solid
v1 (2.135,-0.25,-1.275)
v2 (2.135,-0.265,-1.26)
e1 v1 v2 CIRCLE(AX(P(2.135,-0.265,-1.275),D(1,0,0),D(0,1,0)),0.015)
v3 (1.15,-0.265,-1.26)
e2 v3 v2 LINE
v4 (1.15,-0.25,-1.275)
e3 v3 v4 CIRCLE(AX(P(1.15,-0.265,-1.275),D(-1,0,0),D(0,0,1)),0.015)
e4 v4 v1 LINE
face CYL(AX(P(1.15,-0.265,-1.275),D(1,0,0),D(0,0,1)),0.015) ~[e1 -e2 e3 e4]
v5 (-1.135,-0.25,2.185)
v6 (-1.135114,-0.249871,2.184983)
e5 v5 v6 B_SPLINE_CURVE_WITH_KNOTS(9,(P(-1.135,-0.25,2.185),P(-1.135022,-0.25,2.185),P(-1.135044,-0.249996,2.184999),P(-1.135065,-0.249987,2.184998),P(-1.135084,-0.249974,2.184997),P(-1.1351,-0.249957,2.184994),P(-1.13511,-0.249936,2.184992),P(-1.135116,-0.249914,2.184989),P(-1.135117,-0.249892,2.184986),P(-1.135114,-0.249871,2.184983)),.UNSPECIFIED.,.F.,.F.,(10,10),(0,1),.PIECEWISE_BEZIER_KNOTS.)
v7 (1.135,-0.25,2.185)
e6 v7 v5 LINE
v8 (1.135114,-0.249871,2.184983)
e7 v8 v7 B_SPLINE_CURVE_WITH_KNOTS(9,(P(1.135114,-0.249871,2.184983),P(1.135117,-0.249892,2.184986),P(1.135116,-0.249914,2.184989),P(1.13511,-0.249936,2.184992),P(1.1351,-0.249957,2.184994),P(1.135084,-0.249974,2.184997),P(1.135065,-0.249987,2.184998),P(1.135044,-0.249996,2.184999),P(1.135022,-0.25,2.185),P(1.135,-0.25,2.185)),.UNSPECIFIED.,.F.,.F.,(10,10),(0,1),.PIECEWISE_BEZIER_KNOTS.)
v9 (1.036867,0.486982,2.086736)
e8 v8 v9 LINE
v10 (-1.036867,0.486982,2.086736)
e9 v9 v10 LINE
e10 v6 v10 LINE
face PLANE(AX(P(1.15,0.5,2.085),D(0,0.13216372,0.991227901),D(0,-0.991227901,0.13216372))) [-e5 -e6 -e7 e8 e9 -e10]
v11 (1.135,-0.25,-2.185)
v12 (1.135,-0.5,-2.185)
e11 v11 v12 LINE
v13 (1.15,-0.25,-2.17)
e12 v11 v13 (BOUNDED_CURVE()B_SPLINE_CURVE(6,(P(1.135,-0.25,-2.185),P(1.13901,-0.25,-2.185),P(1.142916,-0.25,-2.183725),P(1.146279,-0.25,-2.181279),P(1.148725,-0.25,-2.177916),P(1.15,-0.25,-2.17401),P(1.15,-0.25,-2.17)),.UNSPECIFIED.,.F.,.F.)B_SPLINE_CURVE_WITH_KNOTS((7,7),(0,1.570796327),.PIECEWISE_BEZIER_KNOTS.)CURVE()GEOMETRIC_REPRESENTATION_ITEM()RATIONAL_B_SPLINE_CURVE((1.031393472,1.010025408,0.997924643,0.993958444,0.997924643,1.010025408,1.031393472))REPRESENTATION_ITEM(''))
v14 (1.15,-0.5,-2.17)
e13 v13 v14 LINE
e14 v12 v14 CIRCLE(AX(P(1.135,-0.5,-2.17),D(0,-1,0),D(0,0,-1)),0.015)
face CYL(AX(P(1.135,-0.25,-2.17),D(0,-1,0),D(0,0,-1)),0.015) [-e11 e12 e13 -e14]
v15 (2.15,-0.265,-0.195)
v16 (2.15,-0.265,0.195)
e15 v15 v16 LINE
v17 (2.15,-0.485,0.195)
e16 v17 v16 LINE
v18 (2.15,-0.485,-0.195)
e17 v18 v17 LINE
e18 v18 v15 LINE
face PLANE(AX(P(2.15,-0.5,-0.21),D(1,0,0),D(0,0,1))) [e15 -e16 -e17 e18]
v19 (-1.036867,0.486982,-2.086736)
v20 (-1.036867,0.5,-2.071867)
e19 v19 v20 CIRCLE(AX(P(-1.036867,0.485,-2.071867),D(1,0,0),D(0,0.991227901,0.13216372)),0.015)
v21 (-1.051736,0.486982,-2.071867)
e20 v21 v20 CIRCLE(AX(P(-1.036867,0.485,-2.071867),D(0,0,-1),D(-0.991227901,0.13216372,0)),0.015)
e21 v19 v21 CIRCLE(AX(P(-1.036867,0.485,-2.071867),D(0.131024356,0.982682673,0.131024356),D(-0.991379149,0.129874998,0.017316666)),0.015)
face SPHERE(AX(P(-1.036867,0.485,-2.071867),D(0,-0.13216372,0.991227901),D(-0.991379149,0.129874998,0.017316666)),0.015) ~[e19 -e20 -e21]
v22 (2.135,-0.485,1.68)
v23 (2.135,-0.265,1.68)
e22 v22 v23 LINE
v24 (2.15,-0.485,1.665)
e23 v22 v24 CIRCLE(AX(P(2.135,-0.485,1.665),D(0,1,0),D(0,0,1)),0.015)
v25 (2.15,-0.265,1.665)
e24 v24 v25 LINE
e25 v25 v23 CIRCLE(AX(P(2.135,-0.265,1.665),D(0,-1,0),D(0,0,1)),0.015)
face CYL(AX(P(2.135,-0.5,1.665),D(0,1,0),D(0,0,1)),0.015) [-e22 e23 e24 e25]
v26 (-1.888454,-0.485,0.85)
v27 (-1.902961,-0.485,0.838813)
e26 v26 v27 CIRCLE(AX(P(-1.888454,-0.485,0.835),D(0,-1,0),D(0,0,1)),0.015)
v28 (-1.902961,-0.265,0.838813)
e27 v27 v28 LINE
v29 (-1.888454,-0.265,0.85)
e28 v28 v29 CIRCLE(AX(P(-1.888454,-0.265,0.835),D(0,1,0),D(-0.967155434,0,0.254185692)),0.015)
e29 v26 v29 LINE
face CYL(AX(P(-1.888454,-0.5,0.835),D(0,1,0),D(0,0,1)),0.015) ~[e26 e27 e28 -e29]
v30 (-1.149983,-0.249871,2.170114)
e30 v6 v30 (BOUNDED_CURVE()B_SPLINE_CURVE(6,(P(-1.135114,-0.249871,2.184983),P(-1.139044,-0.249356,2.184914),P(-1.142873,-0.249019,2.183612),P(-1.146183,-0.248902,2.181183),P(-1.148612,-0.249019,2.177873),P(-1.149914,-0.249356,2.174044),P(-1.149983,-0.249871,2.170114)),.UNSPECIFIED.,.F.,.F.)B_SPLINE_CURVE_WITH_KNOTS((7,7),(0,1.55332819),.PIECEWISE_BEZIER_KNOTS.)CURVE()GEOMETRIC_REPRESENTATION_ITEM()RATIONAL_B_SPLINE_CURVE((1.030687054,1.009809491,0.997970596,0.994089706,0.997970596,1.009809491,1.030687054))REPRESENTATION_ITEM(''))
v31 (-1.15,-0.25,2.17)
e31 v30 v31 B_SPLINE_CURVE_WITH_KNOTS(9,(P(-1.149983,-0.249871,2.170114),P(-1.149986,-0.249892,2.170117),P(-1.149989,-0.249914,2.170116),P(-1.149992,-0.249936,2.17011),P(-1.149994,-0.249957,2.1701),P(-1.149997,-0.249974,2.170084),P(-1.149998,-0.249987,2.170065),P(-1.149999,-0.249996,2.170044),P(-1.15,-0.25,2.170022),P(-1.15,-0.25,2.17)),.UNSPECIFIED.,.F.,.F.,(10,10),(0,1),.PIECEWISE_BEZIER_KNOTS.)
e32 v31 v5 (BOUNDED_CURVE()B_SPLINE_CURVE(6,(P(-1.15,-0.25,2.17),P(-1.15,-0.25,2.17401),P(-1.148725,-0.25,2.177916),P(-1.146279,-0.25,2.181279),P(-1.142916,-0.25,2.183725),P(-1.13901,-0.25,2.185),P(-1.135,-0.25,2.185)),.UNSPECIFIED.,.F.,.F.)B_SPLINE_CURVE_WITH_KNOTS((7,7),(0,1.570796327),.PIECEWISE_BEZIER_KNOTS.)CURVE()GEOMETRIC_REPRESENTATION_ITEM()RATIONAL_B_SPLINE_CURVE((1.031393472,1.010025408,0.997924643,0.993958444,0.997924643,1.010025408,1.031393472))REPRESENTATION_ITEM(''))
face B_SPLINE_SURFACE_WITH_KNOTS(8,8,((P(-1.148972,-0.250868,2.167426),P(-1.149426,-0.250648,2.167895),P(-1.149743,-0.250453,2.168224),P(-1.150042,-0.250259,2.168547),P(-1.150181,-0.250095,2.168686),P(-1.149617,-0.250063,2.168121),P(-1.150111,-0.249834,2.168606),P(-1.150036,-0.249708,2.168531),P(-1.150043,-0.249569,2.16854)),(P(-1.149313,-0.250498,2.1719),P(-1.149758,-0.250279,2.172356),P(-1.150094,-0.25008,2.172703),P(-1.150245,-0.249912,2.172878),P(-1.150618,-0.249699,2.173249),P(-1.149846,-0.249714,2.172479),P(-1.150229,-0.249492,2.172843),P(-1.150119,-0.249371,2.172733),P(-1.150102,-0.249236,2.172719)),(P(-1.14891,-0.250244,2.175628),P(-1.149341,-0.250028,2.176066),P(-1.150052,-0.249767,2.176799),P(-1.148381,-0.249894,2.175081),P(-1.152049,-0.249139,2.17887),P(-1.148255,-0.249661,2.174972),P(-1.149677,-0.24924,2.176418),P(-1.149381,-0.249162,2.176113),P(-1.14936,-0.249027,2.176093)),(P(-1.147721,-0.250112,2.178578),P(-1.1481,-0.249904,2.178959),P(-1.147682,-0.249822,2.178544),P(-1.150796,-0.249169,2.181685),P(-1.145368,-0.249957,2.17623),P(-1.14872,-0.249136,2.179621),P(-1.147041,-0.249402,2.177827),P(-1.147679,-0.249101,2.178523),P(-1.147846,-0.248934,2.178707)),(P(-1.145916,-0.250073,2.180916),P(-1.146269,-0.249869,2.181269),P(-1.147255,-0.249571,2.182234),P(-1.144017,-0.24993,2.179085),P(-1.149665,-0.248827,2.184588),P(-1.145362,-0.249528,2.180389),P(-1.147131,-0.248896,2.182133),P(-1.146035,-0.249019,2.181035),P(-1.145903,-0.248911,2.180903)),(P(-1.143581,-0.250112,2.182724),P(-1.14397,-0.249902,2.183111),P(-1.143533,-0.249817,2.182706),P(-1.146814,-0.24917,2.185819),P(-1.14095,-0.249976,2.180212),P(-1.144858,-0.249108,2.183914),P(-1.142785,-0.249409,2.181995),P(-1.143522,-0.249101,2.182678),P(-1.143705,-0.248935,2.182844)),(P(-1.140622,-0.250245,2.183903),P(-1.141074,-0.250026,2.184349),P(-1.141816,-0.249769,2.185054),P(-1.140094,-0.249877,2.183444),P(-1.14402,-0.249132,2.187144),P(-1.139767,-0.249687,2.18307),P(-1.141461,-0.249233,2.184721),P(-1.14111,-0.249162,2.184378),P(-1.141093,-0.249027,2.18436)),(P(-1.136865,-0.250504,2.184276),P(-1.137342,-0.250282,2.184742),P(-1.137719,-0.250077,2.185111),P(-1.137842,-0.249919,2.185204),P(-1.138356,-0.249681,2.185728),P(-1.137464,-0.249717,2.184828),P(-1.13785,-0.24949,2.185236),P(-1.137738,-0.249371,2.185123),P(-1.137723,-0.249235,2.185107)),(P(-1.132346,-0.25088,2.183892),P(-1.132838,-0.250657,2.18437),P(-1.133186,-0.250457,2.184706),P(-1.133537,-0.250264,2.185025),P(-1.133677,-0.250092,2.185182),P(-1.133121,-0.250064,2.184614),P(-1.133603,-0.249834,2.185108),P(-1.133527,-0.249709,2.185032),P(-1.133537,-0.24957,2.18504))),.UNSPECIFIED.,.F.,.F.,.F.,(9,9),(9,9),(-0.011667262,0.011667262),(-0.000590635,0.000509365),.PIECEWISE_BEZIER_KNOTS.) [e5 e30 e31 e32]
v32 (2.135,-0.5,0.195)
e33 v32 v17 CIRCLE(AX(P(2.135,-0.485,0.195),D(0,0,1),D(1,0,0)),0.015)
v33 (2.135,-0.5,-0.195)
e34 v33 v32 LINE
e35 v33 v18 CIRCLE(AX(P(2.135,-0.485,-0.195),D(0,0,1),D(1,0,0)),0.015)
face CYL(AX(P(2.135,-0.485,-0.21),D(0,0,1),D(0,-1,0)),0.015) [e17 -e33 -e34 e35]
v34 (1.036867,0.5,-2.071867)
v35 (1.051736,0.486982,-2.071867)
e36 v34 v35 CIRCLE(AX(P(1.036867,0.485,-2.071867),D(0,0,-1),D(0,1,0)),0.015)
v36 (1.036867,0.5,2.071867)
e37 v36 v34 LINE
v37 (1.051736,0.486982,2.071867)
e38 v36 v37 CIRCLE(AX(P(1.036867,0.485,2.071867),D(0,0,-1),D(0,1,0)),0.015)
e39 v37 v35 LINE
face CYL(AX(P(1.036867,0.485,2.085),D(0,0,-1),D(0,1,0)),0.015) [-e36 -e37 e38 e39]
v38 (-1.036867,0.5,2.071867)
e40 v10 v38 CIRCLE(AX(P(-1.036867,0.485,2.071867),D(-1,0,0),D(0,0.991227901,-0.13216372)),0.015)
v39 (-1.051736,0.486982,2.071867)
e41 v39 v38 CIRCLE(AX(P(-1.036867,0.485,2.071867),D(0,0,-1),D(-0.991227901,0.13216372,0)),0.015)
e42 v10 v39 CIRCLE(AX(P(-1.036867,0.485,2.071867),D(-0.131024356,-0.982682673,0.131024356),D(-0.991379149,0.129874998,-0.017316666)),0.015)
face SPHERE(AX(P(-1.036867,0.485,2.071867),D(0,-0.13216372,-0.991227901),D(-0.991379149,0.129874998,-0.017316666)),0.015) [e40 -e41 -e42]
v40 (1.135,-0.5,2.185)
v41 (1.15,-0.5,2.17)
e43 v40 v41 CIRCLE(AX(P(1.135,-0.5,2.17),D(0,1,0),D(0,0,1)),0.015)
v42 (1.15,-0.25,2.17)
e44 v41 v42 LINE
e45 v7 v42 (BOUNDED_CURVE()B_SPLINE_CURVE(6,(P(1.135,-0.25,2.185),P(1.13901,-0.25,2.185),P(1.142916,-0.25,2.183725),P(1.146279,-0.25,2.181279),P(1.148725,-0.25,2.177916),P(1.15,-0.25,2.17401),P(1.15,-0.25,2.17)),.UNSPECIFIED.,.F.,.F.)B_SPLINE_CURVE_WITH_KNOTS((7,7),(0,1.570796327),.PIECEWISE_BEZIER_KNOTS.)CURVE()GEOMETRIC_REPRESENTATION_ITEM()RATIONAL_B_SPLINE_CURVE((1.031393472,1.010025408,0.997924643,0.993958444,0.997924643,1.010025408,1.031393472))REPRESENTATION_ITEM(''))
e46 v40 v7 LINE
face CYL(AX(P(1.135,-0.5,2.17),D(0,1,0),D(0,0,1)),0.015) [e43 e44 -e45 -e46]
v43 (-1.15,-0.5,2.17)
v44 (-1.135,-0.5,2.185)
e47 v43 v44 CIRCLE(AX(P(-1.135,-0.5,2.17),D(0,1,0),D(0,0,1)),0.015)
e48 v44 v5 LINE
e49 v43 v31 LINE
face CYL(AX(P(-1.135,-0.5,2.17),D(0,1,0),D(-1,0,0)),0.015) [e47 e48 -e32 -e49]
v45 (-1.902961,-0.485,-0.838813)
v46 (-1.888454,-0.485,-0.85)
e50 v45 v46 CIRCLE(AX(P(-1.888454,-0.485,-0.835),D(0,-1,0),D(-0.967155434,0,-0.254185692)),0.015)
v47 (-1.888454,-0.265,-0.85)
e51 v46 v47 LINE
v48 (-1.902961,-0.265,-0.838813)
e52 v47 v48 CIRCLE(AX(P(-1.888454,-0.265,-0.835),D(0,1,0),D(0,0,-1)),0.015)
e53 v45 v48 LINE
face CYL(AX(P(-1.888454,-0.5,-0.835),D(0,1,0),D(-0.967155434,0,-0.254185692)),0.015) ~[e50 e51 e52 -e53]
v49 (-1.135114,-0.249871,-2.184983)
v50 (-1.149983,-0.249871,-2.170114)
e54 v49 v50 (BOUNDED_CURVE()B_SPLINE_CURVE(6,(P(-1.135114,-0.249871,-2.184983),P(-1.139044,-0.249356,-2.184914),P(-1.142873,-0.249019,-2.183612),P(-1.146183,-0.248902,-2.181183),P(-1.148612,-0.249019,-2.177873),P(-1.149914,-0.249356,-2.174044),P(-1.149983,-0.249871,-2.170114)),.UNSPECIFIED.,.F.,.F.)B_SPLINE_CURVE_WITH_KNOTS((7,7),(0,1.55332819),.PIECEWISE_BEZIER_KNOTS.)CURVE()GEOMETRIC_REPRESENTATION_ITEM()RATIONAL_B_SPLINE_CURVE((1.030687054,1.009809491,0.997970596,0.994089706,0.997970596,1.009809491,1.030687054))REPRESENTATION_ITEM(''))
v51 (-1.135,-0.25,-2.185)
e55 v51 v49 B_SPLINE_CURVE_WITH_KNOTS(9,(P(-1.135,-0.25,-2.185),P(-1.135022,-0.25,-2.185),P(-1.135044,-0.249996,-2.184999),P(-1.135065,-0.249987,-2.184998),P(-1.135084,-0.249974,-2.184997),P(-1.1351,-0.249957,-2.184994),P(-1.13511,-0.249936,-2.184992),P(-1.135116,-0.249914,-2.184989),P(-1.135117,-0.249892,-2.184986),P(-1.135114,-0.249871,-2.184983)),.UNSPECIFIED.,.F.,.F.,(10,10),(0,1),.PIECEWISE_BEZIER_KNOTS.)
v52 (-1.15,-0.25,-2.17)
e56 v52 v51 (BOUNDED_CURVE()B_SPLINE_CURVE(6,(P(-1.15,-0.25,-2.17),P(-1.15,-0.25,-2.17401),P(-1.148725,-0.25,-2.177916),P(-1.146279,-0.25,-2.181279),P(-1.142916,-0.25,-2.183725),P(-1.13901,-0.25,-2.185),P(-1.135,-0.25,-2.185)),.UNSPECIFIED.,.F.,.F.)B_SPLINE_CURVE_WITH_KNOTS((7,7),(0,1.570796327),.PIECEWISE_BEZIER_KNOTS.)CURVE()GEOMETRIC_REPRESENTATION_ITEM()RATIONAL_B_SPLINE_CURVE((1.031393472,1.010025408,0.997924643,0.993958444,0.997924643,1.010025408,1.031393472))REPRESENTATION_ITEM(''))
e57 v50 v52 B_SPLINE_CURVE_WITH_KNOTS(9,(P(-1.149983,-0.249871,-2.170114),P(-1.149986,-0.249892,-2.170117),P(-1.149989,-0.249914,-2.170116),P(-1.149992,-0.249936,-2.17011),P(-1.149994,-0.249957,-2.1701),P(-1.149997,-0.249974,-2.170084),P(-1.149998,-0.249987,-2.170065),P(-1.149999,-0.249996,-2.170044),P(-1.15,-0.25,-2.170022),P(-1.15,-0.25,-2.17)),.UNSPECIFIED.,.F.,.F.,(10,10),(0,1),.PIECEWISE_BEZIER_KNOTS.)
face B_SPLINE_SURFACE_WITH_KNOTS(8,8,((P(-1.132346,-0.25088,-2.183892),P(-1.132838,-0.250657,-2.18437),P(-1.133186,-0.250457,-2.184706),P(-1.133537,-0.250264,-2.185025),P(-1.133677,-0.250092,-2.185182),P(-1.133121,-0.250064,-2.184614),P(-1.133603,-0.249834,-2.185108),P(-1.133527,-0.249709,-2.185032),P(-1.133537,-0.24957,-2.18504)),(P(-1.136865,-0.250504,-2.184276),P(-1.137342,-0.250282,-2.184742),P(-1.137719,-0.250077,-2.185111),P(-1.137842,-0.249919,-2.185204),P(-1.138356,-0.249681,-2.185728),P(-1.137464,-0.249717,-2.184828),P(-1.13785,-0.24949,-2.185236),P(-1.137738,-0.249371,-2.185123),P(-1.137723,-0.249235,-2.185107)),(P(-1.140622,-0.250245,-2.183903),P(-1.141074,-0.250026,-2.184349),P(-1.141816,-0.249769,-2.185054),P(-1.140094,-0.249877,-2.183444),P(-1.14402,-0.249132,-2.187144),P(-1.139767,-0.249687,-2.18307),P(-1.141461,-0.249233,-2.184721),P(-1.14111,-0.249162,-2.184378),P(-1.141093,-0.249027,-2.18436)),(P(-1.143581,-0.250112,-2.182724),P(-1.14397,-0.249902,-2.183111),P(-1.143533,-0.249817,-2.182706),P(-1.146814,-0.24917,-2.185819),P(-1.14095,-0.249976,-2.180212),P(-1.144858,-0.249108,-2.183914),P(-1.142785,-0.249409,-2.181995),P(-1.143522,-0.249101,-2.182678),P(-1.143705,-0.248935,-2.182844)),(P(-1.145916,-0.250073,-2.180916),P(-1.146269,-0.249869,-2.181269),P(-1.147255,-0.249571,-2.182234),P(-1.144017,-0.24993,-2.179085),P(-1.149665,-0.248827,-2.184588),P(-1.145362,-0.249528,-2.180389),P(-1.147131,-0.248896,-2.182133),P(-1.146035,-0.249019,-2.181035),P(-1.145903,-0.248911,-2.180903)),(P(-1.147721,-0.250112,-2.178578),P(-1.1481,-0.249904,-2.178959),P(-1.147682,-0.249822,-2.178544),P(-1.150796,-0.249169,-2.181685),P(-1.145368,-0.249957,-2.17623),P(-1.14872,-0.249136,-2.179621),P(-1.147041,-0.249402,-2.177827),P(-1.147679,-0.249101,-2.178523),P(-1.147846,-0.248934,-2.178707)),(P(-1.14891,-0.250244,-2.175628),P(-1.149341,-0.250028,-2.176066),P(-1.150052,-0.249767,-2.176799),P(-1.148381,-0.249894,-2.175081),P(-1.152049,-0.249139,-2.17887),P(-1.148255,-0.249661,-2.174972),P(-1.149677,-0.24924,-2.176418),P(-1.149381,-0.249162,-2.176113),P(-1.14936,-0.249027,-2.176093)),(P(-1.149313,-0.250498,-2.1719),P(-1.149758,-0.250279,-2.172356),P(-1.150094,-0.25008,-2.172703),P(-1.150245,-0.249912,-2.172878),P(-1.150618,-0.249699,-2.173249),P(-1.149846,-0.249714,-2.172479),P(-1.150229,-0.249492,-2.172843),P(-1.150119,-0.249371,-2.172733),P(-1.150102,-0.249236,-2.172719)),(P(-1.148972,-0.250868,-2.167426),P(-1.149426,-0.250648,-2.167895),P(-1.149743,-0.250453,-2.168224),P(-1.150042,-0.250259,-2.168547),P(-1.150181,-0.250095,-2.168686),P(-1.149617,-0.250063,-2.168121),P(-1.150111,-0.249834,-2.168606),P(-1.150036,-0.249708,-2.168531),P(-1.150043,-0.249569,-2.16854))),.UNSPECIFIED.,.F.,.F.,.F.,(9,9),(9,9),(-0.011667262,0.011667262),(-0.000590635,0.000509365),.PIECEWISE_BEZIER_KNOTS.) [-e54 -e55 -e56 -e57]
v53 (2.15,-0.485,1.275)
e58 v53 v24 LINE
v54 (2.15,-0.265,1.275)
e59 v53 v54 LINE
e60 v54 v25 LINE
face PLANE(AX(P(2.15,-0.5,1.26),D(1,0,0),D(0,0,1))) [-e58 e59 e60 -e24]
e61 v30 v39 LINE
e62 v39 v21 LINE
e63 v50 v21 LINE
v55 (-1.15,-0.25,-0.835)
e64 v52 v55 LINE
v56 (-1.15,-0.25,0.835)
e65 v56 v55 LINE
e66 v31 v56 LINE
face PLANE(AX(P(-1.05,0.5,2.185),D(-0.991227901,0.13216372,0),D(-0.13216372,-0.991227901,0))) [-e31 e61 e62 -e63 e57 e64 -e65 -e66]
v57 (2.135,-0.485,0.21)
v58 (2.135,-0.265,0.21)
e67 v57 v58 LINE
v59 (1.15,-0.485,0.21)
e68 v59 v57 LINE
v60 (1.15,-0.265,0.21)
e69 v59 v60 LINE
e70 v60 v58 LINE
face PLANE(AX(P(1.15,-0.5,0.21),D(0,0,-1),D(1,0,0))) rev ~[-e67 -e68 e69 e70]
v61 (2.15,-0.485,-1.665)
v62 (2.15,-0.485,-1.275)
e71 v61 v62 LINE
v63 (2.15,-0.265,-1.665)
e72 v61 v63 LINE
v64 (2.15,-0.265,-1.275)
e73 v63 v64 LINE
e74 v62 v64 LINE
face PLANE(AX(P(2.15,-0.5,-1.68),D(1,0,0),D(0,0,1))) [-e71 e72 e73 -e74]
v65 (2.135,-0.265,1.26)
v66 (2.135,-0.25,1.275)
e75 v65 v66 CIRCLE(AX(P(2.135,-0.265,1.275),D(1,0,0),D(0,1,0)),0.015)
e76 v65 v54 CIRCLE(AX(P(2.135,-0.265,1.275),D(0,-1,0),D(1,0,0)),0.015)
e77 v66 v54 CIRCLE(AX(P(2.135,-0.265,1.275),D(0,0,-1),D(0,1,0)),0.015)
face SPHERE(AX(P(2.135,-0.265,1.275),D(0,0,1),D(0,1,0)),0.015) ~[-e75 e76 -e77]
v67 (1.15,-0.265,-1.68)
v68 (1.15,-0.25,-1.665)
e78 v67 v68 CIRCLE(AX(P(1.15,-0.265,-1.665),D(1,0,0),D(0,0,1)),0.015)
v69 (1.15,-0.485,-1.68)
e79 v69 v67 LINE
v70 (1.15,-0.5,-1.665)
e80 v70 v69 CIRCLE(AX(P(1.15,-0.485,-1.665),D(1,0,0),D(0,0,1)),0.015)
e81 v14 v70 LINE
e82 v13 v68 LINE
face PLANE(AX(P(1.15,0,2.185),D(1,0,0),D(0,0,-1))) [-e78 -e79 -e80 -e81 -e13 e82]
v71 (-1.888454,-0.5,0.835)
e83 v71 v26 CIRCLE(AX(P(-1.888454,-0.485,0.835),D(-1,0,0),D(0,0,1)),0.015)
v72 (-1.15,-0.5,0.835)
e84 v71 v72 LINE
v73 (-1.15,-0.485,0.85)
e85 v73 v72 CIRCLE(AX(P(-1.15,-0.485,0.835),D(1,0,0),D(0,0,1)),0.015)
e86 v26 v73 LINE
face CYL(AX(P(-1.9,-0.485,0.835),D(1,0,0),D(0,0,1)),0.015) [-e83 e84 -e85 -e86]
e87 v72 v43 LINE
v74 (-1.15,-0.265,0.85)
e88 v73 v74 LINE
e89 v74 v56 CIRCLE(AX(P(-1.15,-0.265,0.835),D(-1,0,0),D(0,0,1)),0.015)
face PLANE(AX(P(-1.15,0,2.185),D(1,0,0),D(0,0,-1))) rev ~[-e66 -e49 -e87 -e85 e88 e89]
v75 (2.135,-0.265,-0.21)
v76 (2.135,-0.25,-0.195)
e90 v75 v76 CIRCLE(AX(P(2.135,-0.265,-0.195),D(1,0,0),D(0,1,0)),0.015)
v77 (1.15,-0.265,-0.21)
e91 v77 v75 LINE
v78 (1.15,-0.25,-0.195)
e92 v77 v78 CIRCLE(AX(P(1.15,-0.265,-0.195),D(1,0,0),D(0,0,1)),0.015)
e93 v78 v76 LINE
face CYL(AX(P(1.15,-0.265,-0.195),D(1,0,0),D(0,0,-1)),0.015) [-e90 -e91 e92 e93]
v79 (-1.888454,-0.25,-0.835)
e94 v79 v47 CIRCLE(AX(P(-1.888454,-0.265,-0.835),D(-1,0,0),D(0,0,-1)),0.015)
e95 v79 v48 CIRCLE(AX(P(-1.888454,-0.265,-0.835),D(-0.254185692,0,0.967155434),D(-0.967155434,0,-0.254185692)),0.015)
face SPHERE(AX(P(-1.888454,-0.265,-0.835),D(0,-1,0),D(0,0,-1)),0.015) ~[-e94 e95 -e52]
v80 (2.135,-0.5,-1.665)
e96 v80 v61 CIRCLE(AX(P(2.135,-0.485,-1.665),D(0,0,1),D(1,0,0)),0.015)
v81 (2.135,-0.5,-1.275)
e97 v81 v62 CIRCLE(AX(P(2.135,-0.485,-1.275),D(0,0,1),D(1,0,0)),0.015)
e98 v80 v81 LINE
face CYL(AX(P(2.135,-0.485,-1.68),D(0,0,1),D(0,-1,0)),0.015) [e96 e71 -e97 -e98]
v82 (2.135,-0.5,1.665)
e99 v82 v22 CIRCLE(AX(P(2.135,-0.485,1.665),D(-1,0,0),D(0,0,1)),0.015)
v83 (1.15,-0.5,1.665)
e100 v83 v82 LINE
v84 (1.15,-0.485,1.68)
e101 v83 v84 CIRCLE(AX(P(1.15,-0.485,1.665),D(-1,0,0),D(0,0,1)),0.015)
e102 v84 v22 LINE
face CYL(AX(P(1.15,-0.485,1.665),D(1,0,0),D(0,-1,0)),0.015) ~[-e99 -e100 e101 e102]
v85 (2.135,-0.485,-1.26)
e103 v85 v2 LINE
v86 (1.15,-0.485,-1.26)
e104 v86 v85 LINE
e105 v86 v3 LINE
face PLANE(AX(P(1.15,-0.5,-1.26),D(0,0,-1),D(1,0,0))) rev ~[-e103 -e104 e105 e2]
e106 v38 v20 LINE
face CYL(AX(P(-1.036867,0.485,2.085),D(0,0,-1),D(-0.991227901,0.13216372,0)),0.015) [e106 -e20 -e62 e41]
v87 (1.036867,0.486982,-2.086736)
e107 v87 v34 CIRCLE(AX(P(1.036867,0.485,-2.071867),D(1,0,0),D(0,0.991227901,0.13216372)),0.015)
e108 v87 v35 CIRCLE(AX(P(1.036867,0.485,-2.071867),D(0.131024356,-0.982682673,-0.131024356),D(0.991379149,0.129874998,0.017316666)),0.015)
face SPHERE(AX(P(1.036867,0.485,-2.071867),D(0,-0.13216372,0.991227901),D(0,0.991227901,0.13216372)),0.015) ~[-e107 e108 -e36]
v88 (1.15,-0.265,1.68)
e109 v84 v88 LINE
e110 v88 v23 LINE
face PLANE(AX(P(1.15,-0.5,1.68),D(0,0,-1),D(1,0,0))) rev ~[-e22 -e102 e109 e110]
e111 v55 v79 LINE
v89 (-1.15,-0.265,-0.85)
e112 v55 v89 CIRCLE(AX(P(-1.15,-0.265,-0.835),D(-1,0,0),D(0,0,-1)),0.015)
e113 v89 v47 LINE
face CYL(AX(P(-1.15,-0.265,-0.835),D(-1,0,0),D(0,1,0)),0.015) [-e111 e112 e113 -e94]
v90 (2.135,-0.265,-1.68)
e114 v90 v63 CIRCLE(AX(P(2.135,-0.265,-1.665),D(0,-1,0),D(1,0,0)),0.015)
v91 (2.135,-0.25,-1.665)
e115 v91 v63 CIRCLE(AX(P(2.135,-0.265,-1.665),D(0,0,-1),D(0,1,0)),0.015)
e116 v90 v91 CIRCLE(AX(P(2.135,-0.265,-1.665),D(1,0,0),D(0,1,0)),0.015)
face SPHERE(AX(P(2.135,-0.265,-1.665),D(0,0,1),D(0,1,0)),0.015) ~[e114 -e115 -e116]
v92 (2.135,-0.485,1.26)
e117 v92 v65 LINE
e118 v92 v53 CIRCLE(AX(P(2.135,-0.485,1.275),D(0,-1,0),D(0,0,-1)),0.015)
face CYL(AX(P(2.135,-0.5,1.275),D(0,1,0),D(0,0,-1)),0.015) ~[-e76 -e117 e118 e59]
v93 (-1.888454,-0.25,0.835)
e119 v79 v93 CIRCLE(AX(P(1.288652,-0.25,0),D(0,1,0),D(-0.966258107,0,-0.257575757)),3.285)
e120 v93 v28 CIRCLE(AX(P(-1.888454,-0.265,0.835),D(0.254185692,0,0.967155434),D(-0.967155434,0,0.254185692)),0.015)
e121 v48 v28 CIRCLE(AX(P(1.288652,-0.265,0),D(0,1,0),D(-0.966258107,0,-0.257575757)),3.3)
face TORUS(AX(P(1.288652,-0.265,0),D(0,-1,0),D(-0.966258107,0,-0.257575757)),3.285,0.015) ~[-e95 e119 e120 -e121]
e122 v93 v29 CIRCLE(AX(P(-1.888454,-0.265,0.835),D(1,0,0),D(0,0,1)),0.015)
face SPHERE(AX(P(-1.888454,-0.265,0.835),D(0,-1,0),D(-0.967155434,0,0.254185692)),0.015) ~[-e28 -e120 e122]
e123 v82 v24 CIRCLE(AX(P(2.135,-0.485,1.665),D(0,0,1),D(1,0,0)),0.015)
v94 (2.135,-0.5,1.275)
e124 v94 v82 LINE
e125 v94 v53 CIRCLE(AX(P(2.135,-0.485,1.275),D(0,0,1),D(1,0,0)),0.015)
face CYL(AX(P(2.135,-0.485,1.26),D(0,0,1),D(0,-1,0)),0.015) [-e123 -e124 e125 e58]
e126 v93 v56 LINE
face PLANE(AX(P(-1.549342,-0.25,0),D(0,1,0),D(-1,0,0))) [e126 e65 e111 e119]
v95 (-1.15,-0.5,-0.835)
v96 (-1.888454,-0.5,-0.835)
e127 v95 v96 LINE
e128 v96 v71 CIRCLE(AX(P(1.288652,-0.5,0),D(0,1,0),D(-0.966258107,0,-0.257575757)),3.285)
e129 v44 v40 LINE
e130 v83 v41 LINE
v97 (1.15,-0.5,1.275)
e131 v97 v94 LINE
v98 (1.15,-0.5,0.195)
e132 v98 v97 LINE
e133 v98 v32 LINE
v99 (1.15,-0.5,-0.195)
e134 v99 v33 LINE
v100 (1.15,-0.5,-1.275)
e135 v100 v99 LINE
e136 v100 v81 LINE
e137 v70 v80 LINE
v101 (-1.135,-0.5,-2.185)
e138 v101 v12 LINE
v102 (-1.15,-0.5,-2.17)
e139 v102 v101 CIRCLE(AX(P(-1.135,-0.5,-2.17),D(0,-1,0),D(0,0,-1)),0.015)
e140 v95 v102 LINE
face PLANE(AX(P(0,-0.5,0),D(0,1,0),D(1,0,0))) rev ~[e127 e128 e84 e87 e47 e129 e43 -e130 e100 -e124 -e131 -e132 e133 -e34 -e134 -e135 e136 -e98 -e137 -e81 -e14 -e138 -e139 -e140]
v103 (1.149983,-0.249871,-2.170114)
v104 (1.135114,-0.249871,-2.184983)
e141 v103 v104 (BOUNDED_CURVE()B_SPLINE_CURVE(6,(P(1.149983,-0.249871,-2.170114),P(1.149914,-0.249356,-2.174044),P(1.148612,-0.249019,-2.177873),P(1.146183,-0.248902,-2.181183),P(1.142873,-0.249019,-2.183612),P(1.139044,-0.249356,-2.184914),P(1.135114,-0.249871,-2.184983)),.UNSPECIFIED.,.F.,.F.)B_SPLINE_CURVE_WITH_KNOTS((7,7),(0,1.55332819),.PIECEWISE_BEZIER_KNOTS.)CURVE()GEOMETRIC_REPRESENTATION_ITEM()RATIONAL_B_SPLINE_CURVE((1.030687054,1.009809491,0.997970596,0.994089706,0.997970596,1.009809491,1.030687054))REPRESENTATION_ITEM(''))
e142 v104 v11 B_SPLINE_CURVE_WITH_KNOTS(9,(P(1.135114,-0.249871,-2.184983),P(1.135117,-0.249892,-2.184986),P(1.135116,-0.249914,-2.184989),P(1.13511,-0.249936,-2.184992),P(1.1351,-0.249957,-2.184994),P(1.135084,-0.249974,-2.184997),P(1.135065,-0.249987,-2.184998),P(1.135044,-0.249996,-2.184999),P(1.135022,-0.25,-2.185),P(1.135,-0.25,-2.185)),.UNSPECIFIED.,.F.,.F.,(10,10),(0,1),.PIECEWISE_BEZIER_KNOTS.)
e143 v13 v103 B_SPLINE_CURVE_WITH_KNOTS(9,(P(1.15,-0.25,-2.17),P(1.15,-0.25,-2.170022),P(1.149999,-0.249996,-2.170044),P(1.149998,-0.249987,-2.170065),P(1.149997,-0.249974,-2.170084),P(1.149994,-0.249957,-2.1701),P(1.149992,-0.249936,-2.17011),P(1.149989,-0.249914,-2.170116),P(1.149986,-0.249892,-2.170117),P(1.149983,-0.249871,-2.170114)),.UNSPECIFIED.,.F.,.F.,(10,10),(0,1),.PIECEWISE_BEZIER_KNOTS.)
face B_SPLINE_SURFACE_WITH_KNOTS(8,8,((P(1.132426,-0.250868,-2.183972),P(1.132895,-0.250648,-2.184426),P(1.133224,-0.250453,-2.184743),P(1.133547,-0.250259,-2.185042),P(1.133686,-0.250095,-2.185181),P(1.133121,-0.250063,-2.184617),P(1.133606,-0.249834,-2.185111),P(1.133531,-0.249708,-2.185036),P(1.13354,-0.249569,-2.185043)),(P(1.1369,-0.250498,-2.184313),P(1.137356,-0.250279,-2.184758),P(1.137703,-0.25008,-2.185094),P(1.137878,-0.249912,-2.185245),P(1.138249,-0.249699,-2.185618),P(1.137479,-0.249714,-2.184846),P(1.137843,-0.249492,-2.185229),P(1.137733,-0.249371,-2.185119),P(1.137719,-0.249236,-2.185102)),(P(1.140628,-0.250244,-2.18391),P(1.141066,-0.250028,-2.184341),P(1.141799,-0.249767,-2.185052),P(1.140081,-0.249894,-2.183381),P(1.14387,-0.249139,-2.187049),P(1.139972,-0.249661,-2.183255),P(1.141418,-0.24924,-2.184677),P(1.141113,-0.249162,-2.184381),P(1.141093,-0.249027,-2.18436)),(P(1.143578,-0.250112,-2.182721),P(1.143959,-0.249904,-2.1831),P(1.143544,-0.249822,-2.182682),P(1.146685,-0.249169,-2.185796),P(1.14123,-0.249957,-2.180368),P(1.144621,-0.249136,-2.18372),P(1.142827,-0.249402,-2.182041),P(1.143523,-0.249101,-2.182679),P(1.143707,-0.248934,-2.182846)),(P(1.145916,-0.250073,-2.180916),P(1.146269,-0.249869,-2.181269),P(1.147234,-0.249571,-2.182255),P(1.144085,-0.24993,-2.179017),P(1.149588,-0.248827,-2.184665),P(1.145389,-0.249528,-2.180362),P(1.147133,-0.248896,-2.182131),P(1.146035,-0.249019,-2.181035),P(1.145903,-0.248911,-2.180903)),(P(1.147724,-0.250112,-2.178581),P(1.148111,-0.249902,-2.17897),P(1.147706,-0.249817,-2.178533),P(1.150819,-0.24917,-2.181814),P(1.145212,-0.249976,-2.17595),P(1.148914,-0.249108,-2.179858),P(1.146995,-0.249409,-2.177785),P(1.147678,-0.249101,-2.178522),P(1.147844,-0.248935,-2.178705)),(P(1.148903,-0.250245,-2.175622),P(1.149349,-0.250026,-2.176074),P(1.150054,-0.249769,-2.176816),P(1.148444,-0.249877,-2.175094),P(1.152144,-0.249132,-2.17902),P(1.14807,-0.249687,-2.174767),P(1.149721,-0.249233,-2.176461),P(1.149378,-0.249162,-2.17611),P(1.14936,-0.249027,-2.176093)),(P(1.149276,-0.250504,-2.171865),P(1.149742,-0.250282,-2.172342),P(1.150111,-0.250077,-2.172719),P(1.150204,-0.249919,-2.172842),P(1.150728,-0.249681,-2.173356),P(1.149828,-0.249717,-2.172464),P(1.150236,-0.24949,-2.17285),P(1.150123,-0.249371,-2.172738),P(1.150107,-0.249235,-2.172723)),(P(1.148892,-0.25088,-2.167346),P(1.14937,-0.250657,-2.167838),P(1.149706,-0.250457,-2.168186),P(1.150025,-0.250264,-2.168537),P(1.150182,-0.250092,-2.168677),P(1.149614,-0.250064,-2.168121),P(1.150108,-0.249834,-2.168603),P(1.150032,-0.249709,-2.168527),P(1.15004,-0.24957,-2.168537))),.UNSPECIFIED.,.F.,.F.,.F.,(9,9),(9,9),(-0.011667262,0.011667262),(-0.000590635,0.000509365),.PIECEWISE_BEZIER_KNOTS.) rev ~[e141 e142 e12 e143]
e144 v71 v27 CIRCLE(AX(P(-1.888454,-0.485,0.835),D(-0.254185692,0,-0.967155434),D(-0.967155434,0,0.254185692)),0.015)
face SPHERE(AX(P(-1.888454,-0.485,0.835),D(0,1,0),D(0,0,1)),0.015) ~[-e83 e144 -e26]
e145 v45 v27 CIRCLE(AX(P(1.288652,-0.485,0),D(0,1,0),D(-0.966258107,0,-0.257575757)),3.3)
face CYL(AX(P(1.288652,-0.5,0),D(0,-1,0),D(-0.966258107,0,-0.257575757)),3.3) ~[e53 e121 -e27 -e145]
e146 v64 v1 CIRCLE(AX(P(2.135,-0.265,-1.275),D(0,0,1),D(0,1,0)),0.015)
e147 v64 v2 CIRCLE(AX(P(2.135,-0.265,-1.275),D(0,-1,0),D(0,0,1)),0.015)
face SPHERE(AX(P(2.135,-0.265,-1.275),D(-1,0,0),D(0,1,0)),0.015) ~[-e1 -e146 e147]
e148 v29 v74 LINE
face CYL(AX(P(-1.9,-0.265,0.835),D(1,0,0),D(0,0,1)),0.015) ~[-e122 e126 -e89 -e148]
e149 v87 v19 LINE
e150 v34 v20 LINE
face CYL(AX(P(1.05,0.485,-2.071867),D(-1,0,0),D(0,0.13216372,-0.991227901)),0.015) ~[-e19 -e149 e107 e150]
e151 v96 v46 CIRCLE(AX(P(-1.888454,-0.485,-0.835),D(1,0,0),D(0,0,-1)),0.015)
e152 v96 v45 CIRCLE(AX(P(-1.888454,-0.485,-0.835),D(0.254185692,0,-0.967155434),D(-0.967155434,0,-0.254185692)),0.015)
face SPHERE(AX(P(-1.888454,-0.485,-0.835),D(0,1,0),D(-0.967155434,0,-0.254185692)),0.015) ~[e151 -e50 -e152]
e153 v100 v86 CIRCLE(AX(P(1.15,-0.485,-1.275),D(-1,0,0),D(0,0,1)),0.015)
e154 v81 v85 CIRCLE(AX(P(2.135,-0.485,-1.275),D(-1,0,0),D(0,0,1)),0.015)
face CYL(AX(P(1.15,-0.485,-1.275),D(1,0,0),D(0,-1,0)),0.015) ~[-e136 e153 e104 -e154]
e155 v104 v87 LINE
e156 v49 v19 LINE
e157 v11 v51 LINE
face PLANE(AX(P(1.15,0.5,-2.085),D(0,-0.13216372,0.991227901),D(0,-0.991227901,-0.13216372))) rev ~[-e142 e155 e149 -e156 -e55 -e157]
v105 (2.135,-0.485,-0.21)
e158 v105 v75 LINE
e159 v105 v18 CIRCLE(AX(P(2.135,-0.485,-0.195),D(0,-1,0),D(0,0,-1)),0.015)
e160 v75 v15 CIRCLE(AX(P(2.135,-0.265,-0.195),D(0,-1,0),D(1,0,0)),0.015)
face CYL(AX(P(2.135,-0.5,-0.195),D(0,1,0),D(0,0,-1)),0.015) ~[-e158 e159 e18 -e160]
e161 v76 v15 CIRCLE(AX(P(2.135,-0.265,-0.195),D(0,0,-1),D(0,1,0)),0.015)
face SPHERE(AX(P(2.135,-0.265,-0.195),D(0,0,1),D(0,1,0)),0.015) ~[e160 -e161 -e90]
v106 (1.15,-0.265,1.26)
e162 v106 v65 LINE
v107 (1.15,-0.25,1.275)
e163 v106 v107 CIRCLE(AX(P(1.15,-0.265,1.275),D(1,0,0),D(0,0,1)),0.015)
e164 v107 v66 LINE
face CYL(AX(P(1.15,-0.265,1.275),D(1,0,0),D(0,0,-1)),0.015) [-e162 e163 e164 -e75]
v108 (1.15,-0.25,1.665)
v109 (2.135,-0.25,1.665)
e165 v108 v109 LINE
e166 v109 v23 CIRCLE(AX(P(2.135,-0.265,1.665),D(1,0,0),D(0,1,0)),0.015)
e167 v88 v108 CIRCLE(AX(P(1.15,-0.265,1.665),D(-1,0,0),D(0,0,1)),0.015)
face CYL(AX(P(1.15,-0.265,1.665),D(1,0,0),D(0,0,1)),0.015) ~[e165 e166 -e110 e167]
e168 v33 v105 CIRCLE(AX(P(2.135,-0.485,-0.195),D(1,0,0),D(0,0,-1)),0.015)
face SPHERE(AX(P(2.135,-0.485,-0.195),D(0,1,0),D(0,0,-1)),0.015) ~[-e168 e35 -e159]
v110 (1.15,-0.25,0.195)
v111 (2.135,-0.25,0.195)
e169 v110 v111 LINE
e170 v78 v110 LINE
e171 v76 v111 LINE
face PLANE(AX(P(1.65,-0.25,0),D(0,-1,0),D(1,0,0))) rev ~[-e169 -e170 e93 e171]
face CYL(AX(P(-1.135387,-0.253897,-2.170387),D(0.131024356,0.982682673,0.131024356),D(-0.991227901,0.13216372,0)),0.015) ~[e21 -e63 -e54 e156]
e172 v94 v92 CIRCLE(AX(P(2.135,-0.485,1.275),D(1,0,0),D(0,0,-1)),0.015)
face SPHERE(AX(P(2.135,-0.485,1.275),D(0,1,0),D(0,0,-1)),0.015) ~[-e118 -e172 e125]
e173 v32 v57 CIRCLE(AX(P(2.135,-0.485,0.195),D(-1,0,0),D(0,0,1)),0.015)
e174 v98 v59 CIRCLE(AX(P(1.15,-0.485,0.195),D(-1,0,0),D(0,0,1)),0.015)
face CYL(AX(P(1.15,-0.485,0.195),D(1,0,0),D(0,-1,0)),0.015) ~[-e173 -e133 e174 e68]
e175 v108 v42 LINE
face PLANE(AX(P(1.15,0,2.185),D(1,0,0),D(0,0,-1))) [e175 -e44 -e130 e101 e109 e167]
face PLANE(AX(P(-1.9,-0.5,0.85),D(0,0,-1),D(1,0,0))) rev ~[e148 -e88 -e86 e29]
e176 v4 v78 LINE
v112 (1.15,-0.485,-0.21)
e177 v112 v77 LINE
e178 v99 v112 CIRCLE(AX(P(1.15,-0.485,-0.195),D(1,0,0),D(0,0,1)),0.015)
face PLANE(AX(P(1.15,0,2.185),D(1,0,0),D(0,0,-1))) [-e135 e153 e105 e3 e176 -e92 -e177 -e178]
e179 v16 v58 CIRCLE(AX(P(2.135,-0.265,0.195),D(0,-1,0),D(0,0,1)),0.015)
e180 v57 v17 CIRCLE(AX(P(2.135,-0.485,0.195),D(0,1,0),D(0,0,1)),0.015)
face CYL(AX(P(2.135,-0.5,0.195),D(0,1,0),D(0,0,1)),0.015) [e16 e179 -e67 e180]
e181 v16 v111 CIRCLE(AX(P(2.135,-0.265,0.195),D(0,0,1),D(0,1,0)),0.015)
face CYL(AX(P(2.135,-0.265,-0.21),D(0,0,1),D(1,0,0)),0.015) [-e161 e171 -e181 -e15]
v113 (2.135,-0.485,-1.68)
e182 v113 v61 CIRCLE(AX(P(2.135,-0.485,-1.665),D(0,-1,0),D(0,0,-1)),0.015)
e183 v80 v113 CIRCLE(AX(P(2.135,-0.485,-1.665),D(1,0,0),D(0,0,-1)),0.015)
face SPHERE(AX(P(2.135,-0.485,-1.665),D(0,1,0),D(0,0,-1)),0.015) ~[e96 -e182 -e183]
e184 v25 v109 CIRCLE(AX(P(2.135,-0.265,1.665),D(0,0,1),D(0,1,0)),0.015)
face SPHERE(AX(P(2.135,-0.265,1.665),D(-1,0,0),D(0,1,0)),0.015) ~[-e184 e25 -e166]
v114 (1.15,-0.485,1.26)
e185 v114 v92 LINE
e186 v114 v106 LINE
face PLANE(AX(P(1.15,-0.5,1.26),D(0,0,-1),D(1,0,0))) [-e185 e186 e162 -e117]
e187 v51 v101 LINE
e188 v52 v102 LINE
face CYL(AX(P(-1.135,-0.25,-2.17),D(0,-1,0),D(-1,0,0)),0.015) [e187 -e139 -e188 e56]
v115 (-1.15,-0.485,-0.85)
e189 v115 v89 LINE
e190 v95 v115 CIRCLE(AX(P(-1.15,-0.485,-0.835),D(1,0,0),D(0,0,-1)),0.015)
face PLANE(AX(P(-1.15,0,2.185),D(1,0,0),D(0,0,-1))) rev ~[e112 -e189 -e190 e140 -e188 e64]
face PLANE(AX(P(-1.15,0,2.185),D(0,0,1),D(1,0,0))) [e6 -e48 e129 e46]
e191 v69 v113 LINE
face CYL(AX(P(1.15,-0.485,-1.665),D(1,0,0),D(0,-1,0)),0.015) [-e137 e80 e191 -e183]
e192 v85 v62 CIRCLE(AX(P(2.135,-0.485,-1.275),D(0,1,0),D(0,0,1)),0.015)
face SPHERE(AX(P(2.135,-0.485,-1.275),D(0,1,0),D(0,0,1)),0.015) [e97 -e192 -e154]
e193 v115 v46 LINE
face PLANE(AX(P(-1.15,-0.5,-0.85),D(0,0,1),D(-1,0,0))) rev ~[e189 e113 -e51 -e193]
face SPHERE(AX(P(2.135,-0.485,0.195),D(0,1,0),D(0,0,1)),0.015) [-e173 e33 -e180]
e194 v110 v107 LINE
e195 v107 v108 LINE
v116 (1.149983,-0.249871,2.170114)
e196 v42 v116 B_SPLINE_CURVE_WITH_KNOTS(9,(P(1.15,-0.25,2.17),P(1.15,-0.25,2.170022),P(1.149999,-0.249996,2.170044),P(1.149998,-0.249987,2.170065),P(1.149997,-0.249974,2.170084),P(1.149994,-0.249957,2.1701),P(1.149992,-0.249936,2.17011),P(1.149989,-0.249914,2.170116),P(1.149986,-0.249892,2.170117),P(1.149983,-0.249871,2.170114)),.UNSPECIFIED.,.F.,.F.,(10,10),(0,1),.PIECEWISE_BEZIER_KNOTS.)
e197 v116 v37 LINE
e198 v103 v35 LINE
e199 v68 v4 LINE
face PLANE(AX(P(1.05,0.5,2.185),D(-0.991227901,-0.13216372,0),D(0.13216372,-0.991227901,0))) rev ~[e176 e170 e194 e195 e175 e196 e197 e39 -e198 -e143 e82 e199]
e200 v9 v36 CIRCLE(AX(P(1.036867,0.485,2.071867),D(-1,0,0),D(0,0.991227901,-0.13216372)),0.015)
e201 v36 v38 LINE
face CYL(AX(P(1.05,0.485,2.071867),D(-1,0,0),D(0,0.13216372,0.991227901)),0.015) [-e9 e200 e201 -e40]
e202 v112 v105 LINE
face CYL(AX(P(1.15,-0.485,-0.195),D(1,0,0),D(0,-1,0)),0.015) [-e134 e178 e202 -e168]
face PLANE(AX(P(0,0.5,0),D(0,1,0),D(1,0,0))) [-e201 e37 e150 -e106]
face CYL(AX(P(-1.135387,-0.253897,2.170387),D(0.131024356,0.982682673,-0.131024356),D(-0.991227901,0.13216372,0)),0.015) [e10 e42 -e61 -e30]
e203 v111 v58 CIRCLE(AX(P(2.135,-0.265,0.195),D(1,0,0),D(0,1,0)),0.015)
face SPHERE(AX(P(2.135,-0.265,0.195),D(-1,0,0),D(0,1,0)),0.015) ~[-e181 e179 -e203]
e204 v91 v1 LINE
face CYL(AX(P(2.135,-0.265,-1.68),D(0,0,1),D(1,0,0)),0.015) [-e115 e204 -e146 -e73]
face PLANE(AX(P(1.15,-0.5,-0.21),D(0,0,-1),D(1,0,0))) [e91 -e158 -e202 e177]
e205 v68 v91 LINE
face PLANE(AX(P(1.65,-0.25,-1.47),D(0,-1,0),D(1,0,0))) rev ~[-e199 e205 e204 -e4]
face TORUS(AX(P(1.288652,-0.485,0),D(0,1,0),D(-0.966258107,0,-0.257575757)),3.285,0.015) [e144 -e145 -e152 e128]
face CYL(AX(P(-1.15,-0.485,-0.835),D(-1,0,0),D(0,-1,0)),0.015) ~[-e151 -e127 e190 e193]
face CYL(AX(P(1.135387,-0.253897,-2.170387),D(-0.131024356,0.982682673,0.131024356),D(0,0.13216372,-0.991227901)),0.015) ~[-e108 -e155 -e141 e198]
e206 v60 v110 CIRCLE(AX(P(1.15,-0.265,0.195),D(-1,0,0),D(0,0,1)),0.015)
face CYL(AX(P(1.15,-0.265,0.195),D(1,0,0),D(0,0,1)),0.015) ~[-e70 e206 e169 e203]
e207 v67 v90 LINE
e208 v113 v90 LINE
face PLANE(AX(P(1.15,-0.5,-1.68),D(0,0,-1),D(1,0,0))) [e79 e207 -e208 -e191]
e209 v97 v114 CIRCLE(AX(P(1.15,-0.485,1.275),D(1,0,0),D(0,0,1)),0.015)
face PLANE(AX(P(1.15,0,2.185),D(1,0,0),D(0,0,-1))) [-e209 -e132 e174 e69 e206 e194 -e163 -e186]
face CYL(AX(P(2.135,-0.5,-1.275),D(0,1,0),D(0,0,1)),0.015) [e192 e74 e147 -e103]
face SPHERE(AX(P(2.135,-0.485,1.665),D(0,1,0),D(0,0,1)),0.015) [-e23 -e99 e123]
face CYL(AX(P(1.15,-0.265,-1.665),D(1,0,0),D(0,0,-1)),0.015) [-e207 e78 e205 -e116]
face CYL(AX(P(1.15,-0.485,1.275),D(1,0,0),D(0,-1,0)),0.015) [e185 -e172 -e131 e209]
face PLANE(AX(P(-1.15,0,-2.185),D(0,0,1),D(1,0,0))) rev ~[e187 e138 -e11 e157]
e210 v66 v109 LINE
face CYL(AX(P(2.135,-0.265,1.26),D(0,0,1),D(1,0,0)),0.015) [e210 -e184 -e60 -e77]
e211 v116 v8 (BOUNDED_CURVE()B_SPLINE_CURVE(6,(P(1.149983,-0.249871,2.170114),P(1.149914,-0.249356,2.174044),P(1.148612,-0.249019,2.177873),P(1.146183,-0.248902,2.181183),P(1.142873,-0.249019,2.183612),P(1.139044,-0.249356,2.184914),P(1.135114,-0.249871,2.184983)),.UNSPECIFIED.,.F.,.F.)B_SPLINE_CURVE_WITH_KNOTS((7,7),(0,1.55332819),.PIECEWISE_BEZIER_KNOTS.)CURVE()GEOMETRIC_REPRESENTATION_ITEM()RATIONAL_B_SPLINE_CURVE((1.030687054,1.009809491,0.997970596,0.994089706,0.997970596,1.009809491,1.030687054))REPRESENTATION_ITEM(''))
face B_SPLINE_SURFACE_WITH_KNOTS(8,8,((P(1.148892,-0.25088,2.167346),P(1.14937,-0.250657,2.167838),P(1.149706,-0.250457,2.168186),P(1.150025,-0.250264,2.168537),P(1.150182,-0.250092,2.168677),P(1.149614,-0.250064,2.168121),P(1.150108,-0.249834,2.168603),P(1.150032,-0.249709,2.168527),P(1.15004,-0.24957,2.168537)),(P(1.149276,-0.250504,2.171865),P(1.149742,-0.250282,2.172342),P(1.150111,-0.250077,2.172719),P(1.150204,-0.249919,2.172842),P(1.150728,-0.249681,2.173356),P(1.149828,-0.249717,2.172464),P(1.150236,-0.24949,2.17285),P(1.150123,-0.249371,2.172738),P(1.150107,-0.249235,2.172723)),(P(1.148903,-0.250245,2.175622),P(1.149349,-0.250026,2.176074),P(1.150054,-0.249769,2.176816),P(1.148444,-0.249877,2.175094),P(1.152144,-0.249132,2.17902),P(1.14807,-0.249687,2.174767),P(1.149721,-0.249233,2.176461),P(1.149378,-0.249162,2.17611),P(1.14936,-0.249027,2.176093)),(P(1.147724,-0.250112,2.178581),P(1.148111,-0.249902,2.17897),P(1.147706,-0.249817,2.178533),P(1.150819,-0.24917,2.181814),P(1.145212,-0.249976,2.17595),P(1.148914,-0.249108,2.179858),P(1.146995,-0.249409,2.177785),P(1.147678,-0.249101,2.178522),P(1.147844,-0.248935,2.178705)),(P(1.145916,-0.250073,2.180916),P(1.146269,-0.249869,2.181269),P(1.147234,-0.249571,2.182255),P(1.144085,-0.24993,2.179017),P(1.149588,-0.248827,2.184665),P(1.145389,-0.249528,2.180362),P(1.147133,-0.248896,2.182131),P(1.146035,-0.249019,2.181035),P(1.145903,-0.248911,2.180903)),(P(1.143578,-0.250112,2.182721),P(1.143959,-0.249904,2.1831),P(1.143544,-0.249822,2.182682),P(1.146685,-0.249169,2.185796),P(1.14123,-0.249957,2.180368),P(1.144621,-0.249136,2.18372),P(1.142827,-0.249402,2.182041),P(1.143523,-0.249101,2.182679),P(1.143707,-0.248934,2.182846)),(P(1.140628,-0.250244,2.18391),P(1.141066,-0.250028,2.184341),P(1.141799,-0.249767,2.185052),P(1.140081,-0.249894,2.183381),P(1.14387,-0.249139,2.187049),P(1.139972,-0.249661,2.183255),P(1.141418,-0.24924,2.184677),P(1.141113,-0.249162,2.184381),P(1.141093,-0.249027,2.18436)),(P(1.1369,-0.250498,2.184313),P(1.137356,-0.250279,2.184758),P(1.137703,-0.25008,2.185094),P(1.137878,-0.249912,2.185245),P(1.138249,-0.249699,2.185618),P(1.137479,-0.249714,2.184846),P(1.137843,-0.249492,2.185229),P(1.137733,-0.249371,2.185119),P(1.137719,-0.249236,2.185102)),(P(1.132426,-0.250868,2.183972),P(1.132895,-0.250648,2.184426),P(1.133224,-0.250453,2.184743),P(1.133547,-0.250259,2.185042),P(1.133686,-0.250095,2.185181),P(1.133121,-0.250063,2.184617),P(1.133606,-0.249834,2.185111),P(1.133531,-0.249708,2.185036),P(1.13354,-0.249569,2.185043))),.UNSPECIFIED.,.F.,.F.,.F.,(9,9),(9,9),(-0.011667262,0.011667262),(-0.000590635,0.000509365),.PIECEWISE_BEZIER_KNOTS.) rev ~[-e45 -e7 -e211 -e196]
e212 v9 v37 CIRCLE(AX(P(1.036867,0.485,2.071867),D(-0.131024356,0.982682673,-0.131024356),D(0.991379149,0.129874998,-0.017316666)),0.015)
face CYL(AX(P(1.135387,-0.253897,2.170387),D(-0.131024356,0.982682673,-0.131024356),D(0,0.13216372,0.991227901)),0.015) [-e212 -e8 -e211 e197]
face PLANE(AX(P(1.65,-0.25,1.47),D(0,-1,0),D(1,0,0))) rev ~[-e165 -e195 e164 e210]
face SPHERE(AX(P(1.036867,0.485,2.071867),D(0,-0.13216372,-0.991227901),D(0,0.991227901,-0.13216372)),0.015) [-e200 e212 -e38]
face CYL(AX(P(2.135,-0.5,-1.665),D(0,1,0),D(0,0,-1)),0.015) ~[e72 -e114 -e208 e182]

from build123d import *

# Parameters (mm, degrees)
SKETCH1_W           = 2.3
SKETCH1_H           = 4.37
BOSS_EXTRUDE1_DEPTH = 0.5
CUT_EXTRUDE1_DEPTH  = 5.546361182
CUT_EXTRUDE2_DEPTH  = 4.211576716
FILLET1_R           = 0.015
SKETCH6_W           = 1
SKETCH6_H           = 0.42
BOSS_EXTRUDE2_DEPTH = 0.25
FILLET2_R           = 0.015


with BuildPart() as part:
    # Sketch1 → Boss-Extrude1 (new, symmetric)
    with BuildSketch(Plane(origin=(0, 0, 0), x_dir=(1, 0, 0), z_dir=(0, 1, 0))):
        Rectangle(SKETCH1_W, SKETCH1_H)
    extrude(amount=BOSS_EXTRUDE1_DEPTH, both=True)

    # Sketch2 → Cut-Extrude1 (cut, through all)
    with BuildSketch(Plane.XY.offset(2.185)):
        Polygon((-1.15, -0.25), (-1.15, 0.5), (-1.05, 0.5), align=None)
        Polygon((1.05, 0.5), (1.15, -0.25), (1.15, 0.5), align=None)
    extrude(amount=-CUT_EXTRUDE1_DEPTH, mode=Mode.SUBTRACT)

    # Sketch3 → Cut-Extrude2 (cut, through all)
    with BuildSketch(Plane(origin=(1.15, 0, 0), x_dir=(0, 0, -1), z_dir=(1, 0, 0))):
        Polygon((-2.185, -0.25), (-2.185, 0.5), (-2.085, 0.5), align=None)
        Polygon((2.085, 0.5), (2.185, -0.25), (2.185, 0.5), align=None)
    extrude(amount=-CUT_EXTRUDE2_DEPTH, mode=Mode.SUBTRACT)

    # Fillet1
    fillet1_edges = [part.edges().sort_by_distance(p)[0] for p in [
        (1.15, -0.375, 2.185),
        (-1.15, -0.375, 2.185),
        (-1.15, -0.375, -2.185),
        (1.15, -0.375, -2.185),
        (-1.05, 0.5, 0),
        (-1.1, 0.125, -2.135),
        (-1.1, 0.125, 2.135),
        (1.05, 0.5, 0),
        (0, 0.5, 2.085),
        (1.1, 0.125, 2.135),
        (0, 0.5, -2.085),
        (1.1, 0.125, -2.135),
    ]]
    fillet(fillet1_edges, radius=FILLET1_R)

    # Sketch6 → Boss-Extrude2 (add)
    with BuildSketch(Plane.XZ.offset(0.5)):
        with Locations((1.65, 1.47)):
            Rectangle(SKETCH6_W, SKETCH6_H)
        with Locations((1.65, 0)):
            Rectangle(SKETCH6_W, SKETCH6_H)
        with Locations((1.65, -1.47)):
            Rectangle(SKETCH6_W, SKETCH6_H)
        with BuildLine():
            Line((-1.9, 0.85), (-1.15, 0.85))
            Line((-1.15, 0.85), (-1.15, -0.85))
            Line((-1.15, -0.85), (-1.9, -0.85))
            ThreePointArc((-1.9, -0.85), (-2.011348247, 0), (-1.9, 0.85))
        make_face()
    extrude(amount=-BOSS_EXTRUDE2_DEPTH)

    # Fillet2
    fillet2_edges = [part.edges().sort_by_distance(p)[0] for p in [
        (-1.525, -0.25, -0.85),
        (-2.011348247, -0.25, 0),
        (-1.9, -0.375, -0.85),
        (-1.525, -0.25, 0.85),
        (-1.9, -0.375, 0.85),
        (-1.525, -0.5, 0.85),
        (-2.011348247, -0.5, 0),
        (-1.525, -0.5, -0.85),
        (1.65, -0.25, 1.68),
        (2.15, -0.25, 1.47),
        (2.15, -0.375, 1.68),
        (1.65, -0.25, 1.26),
        (2.15, -0.375, 1.26),
        (1.65, -0.5, 1.68),
        (1.65, -0.5, 1.26),
        (2.15, -0.5, 1.47),
        (1.65, -0.25, 0.21),
        (2.15, -0.25, 0),
        (2.15, -0.375, 0.21),
        (1.65, -0.25, -0.21),
        (2.15, -0.375, -0.21),
        (1.65, -0.5, 0.21),
        (1.65, -0.5, -0.21),
        (2.15, -0.5, 0),
        (1.65, -0.25, -1.26),
        (2.15, -0.25, -1.47),
        (2.15, -0.375, -1.26),
        (1.65, -0.25, -1.68),
        (2.15, -0.375, -1.68),
        (1.65, -0.5, -1.26),
        (1.65, -0.5, -1.68),
        (2.15, -0.5, -1.47),
    ]]
    fillet(fillet2_edges, radius=FILLET2_R)


solid = part.part
